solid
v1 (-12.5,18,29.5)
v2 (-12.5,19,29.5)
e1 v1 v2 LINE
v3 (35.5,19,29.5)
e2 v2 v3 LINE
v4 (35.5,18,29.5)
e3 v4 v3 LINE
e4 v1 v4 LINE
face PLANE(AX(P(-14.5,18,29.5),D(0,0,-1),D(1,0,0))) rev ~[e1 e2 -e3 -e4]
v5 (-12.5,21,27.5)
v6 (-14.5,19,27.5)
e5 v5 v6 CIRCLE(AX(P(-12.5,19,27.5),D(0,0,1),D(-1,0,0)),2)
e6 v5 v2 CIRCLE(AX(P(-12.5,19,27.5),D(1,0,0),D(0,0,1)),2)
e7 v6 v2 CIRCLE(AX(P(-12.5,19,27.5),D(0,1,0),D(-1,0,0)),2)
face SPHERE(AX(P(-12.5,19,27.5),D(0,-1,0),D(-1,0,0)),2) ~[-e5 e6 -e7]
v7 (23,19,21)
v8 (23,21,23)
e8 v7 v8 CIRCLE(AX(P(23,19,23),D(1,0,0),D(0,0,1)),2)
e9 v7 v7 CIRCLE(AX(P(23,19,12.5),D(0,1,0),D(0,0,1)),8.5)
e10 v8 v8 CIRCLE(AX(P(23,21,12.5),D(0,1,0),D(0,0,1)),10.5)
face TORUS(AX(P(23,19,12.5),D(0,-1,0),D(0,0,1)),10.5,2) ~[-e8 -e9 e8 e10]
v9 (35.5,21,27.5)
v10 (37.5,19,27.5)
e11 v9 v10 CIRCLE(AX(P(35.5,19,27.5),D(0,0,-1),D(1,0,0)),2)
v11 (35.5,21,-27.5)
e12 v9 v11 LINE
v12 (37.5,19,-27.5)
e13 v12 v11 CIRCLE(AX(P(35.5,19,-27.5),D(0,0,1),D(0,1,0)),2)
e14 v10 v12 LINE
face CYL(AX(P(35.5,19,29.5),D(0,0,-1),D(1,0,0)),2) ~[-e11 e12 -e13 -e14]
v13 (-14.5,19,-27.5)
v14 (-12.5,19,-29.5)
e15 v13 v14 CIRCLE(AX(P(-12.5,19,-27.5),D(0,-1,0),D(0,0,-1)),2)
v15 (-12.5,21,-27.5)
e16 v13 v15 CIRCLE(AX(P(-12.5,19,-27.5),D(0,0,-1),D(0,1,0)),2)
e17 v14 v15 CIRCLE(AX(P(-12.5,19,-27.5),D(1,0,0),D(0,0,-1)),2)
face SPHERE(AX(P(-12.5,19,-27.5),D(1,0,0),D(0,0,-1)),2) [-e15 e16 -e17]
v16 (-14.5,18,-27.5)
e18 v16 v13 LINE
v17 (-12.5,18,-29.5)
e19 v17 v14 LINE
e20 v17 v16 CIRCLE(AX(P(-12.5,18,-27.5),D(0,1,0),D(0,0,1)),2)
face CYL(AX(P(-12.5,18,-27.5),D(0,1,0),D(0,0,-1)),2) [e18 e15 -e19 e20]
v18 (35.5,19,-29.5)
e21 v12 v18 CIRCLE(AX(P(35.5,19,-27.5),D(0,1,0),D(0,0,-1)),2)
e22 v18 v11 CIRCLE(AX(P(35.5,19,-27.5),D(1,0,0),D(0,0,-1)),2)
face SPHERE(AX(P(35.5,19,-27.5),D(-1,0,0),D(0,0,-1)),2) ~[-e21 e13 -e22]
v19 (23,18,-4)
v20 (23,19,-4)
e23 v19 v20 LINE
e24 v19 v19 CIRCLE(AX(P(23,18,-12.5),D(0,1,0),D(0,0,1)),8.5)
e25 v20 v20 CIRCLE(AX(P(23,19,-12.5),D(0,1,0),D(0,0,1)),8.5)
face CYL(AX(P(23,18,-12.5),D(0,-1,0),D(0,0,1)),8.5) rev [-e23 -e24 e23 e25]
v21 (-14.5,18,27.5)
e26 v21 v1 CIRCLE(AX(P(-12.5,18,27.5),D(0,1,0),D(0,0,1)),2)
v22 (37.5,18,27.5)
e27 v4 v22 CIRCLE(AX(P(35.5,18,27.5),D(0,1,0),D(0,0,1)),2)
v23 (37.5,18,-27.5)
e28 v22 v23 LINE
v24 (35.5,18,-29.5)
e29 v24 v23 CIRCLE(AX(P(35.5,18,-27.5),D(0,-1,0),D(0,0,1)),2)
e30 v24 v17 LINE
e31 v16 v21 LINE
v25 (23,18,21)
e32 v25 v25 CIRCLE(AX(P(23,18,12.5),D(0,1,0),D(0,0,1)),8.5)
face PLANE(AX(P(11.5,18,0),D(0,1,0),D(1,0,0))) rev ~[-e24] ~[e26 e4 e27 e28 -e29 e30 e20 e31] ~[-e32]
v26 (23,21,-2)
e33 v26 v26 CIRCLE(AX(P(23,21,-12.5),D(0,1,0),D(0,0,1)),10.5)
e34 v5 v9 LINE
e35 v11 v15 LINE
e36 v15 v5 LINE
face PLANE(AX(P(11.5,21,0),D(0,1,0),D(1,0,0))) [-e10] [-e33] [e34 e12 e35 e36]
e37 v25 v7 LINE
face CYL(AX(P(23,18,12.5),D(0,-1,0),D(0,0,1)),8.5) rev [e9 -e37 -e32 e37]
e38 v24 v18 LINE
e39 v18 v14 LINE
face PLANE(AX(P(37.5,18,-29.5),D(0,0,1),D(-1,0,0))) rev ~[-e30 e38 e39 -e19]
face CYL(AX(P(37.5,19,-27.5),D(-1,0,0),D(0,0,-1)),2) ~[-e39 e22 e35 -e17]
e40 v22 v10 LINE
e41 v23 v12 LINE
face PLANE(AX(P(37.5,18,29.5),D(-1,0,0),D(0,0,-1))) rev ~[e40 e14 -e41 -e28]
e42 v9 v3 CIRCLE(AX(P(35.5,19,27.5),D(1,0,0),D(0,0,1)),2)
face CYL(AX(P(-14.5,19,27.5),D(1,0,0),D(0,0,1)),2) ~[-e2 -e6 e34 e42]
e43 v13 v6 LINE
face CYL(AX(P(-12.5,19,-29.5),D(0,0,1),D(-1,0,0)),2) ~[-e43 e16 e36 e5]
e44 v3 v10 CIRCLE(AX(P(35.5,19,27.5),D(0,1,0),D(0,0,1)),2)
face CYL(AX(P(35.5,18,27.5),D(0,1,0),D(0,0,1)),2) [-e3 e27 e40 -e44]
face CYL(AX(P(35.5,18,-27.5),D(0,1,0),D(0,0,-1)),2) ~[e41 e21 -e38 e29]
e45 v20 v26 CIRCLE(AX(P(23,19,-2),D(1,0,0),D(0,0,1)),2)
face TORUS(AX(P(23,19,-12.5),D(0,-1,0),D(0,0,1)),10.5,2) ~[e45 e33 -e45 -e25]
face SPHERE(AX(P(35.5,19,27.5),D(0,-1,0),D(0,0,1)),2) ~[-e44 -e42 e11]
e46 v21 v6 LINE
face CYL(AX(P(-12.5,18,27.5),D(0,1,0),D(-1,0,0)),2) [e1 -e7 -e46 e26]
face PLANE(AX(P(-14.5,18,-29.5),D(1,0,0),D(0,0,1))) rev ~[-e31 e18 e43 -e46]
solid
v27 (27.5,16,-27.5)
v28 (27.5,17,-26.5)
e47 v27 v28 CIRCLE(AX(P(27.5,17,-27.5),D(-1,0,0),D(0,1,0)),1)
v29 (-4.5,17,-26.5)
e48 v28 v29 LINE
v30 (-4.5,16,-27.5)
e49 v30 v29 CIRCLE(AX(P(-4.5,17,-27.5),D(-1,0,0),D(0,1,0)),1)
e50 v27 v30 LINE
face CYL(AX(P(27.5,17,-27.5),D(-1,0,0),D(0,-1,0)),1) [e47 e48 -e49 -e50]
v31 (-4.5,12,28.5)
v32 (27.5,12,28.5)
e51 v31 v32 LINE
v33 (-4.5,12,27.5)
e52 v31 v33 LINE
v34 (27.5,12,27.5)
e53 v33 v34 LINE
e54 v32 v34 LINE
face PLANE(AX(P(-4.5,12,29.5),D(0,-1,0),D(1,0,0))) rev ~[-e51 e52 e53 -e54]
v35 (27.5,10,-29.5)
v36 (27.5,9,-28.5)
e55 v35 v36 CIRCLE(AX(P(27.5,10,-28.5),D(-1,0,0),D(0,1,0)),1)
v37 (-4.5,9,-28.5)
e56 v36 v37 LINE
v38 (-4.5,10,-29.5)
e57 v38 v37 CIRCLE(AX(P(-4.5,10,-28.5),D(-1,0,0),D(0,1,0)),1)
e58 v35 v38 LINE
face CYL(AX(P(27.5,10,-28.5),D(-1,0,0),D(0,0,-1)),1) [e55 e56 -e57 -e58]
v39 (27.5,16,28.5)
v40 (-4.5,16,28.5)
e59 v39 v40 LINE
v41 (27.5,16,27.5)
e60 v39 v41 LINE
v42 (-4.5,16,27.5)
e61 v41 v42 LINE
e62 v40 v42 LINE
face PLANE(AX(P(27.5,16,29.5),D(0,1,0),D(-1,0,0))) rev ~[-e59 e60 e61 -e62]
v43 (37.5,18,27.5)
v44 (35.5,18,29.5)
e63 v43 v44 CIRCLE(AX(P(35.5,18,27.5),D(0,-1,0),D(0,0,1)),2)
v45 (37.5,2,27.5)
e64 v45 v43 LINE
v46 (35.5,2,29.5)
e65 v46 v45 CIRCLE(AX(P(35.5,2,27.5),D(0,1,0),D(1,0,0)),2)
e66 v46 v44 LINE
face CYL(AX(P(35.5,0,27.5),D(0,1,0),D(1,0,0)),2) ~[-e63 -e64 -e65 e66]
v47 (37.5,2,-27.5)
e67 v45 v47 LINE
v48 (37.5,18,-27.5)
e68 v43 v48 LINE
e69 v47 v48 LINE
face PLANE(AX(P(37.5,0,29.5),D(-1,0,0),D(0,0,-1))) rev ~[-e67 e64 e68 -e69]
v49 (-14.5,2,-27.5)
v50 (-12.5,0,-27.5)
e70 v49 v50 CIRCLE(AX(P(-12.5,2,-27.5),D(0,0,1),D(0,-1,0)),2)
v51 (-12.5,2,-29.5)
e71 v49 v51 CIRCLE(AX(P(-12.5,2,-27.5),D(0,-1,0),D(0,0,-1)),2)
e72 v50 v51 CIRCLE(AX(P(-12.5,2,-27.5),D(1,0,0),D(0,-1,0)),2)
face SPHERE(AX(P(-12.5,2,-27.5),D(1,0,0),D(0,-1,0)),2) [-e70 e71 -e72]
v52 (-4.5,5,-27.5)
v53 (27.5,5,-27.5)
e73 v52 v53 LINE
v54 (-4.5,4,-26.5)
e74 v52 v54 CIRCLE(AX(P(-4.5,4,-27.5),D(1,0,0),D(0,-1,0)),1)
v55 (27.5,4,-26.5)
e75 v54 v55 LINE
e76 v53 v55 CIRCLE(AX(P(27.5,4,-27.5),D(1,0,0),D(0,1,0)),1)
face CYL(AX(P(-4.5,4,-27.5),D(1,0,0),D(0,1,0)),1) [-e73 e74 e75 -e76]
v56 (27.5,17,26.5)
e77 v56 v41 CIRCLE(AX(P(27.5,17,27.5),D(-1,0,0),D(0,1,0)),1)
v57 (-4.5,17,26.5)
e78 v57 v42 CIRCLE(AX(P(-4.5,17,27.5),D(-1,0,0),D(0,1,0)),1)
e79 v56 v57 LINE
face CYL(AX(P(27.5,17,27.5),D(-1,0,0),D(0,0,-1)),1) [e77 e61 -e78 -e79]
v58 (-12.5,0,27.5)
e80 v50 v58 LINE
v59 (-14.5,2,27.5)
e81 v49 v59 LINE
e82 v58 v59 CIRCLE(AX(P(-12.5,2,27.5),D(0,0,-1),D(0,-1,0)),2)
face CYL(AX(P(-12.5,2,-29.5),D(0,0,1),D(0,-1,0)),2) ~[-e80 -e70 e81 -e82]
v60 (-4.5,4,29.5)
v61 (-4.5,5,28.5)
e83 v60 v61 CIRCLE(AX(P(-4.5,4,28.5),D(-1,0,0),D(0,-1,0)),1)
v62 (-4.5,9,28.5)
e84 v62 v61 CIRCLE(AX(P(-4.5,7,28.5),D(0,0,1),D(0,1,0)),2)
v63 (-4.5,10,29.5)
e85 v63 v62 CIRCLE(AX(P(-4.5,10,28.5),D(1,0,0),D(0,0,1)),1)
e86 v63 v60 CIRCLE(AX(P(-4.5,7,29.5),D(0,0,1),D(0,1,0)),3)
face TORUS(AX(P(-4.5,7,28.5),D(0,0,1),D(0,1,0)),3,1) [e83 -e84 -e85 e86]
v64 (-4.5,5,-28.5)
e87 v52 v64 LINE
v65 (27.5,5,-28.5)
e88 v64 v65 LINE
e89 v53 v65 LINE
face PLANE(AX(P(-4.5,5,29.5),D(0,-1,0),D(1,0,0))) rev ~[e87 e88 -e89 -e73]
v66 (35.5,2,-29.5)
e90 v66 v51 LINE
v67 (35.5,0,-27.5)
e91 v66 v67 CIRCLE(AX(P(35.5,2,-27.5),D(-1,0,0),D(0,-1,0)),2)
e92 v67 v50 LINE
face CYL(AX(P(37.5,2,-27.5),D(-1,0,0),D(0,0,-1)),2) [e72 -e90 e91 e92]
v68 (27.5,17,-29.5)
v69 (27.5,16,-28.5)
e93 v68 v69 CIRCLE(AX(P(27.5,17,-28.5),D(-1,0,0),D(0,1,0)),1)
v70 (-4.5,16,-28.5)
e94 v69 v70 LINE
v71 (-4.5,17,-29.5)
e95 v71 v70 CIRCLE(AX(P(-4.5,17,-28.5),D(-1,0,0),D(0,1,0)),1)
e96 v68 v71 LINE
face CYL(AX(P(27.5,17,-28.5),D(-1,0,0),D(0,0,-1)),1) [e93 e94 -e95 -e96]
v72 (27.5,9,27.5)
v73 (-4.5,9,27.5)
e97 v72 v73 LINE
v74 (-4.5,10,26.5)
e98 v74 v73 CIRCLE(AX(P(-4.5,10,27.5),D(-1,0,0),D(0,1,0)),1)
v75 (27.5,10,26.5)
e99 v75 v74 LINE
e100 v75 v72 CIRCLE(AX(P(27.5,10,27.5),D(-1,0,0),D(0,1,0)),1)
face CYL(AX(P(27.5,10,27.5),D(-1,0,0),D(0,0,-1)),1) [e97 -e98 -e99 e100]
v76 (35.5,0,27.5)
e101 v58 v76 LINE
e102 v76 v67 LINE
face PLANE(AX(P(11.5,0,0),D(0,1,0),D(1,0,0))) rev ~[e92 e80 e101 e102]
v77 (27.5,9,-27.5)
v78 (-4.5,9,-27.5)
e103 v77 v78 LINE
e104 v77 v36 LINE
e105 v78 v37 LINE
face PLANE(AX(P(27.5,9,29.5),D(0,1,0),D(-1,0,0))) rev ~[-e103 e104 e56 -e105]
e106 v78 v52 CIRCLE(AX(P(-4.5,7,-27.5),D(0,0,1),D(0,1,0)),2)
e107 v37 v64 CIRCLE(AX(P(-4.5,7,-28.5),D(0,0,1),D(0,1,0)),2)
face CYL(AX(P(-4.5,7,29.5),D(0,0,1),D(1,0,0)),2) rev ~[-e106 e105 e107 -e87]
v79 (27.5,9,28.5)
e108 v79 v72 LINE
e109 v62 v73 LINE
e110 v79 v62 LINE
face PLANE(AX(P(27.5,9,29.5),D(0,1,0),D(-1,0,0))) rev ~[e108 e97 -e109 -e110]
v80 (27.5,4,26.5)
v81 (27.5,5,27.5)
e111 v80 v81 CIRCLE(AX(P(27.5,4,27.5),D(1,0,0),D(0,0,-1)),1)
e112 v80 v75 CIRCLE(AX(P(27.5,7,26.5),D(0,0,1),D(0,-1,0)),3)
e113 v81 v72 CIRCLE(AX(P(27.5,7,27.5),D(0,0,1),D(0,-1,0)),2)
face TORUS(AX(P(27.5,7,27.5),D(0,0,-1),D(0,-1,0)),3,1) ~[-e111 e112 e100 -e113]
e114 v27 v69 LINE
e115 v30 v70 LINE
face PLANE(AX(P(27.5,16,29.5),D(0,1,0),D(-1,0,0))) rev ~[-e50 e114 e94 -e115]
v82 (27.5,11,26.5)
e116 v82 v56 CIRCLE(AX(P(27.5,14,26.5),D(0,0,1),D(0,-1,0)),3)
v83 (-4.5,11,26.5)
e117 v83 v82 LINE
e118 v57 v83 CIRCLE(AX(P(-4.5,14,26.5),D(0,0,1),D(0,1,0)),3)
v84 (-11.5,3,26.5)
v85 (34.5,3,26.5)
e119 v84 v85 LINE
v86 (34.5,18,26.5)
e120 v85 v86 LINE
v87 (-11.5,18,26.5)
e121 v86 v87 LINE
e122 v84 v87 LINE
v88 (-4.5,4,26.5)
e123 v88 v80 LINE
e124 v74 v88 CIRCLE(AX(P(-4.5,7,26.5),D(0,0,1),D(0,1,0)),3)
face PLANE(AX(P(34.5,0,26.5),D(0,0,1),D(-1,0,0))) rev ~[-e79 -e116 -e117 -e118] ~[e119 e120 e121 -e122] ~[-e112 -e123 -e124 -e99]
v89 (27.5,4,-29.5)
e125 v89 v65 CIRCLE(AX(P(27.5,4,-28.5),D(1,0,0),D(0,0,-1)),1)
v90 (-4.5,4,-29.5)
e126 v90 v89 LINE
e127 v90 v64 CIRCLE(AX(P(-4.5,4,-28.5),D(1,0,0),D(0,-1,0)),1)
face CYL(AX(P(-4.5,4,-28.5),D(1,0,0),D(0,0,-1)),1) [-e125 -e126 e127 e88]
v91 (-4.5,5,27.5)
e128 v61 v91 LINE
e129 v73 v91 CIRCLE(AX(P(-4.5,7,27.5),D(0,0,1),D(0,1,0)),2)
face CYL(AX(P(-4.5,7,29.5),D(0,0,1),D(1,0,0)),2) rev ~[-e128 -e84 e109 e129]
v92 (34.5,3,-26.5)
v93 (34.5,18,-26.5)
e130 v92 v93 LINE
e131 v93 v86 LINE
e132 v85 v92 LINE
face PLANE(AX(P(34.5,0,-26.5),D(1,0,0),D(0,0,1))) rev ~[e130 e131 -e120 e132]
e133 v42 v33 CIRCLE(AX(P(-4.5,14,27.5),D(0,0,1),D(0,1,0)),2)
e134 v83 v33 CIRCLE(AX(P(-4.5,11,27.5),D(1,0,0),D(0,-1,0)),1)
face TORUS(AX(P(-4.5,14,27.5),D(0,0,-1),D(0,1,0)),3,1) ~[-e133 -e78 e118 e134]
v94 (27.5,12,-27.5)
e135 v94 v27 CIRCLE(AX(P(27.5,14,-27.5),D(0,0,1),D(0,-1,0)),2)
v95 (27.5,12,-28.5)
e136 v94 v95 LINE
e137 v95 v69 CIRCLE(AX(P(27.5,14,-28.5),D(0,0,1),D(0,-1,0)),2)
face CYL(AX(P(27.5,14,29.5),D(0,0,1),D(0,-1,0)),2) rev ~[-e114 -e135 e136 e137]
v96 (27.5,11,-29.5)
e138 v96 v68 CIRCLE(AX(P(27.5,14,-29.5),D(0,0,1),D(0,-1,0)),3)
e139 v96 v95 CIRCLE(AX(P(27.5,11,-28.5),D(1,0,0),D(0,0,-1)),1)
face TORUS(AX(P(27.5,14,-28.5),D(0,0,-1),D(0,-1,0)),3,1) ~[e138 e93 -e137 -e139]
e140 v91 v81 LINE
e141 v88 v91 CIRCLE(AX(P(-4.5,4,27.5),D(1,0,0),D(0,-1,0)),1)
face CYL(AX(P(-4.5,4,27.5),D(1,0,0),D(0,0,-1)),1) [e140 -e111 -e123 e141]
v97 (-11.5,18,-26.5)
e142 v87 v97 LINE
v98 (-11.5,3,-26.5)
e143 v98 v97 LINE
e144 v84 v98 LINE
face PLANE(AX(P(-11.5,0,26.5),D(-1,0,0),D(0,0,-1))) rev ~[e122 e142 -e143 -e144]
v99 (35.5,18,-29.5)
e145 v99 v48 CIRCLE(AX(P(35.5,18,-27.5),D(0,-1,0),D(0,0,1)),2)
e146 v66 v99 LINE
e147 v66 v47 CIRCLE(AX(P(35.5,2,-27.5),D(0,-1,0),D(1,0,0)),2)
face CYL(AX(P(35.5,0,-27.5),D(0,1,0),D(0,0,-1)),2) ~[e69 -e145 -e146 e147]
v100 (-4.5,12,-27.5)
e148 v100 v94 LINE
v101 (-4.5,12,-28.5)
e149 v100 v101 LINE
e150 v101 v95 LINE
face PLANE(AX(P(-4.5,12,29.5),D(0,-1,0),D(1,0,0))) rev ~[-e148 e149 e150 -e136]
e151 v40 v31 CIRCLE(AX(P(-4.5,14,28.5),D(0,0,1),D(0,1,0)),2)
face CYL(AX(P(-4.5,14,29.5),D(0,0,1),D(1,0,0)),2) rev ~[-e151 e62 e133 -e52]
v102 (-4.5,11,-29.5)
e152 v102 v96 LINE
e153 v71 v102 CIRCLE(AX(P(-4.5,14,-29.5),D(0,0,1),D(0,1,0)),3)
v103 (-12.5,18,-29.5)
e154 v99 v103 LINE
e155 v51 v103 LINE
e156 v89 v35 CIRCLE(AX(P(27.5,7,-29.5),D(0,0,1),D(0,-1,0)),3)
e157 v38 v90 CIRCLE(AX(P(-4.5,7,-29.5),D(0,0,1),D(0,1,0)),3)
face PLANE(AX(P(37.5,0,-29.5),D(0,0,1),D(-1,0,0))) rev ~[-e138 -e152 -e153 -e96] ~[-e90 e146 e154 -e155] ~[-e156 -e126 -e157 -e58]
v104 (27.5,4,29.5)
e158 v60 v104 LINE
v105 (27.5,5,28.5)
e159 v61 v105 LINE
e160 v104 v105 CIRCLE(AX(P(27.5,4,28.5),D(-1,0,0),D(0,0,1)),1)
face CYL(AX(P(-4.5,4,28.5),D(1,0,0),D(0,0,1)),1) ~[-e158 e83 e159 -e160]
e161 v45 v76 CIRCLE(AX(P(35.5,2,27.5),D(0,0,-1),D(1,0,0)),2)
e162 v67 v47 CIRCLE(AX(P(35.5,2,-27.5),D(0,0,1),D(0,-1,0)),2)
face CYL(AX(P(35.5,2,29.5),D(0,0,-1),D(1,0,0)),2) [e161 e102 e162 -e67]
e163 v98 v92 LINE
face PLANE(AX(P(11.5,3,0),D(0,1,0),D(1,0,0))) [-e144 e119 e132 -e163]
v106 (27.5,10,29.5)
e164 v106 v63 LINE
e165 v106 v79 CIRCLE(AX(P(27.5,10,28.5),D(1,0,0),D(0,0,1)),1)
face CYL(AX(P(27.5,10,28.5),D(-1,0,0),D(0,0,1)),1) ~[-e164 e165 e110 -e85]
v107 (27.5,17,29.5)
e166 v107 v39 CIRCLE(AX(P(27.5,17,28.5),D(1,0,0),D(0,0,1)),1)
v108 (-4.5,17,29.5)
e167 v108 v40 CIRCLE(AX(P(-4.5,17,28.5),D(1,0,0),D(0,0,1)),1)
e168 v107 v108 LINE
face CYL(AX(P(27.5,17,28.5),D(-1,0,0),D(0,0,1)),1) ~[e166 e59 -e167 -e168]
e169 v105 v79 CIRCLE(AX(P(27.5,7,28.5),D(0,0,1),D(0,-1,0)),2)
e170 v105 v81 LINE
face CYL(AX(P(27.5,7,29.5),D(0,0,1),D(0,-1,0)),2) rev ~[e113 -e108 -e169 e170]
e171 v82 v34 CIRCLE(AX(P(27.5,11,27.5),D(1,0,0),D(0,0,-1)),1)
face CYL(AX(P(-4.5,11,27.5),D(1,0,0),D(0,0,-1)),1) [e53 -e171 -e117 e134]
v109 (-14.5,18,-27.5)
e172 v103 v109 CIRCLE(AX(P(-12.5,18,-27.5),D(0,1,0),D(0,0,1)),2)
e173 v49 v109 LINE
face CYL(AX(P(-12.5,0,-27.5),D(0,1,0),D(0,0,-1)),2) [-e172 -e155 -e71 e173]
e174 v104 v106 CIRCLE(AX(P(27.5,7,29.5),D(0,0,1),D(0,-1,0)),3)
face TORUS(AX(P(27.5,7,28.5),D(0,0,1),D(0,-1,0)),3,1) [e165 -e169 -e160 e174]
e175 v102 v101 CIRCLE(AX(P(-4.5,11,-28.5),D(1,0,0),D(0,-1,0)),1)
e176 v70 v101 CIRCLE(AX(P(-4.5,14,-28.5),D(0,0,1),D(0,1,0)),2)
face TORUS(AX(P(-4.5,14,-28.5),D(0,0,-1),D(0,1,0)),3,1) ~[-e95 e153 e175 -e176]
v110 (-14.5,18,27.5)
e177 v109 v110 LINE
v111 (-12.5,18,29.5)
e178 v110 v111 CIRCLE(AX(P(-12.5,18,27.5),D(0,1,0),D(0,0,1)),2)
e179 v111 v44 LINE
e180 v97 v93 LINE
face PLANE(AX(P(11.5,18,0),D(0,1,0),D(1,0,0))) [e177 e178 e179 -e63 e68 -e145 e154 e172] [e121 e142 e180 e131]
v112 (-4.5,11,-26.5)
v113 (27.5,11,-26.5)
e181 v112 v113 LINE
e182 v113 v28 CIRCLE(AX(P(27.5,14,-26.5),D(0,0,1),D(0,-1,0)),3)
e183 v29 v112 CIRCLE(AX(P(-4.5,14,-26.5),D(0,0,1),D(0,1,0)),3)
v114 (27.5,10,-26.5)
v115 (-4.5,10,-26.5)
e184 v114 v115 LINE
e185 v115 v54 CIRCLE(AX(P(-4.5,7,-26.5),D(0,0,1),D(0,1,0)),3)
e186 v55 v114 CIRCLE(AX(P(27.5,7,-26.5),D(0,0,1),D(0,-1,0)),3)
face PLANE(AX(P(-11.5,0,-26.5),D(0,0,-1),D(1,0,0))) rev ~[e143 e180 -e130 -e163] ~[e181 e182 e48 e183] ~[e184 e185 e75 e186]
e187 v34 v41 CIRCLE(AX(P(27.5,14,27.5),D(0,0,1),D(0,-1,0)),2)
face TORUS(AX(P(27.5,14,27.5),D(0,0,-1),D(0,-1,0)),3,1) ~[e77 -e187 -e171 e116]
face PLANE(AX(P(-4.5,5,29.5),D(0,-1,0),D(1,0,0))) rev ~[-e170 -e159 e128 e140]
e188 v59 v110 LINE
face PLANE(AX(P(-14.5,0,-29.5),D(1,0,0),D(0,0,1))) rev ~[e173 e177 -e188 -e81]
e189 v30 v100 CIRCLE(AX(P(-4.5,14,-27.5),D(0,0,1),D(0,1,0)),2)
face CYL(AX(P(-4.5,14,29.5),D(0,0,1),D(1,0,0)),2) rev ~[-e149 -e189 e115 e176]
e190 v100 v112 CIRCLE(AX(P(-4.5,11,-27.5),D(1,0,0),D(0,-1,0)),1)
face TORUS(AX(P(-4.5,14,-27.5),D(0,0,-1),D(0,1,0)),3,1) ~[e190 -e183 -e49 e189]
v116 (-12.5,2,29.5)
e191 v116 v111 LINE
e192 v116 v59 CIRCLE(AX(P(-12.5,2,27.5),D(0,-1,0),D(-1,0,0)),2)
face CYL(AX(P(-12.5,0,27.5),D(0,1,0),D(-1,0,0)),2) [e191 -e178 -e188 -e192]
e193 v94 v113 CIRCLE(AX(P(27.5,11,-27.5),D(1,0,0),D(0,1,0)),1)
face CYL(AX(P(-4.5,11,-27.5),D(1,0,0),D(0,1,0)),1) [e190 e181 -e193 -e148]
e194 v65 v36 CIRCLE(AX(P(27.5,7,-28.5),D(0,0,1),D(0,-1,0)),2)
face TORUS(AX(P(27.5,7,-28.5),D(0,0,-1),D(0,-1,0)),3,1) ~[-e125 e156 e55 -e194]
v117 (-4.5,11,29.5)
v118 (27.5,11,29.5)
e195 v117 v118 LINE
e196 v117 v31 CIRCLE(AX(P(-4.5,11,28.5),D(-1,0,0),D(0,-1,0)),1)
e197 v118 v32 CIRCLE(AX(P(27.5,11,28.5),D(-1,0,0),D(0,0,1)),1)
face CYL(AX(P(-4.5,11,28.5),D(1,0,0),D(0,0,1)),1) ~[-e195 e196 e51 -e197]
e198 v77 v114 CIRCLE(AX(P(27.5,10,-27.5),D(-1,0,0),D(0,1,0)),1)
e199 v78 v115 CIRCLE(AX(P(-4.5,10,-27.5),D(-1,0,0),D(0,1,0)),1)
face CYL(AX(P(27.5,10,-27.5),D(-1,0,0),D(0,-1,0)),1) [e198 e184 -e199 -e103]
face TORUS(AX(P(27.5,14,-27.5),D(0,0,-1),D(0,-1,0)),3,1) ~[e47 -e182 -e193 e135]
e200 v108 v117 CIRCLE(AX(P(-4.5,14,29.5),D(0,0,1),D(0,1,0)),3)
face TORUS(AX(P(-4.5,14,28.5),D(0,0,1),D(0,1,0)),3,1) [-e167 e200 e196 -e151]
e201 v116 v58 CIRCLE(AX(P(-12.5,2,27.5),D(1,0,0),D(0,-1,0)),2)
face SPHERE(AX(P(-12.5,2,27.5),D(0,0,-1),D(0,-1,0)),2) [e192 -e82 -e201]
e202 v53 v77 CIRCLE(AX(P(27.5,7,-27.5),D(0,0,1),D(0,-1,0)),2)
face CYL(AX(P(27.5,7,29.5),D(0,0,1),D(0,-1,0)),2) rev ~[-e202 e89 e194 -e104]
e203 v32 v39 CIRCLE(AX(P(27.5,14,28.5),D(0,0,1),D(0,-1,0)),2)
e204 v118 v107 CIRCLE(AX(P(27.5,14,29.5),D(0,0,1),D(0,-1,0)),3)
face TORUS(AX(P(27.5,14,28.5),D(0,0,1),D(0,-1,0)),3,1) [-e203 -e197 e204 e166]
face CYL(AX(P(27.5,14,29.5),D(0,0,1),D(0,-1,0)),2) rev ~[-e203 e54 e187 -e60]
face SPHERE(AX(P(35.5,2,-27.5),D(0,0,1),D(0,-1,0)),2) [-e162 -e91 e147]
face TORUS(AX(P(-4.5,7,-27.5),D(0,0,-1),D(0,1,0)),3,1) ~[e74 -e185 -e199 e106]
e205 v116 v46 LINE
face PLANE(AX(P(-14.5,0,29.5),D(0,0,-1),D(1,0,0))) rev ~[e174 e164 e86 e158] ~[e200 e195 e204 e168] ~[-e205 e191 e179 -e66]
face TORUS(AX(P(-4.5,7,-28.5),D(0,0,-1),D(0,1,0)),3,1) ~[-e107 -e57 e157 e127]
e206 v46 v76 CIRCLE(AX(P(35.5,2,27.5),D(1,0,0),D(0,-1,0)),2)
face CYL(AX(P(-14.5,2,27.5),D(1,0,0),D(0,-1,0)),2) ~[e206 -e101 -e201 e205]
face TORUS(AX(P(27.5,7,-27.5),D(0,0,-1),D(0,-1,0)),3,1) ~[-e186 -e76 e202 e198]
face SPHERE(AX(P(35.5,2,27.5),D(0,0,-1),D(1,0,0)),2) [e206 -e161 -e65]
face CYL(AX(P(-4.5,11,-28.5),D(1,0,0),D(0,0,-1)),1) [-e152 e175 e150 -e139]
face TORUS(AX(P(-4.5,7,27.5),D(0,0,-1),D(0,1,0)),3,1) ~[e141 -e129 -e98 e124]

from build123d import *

# Parameters (mm, degrees)
SKETCH1_W           = 46
SKETCH1_H           = 53
BOSS_EXTRUDE1_DEPTH = 3
BOSS_EXTRUDE2_DEPTH = 18
BOSS_EXTRUDE3_START = 18
SKETCH1_6_W         = 23
SKETCH1_6_H         = 53
SKETCH1_6_R         = 8.5
BOSS_EXTRUDE3_DEPTH = 3
SKETCH4_R           = 2
CUT_EXTRUDE1_DEPTH  = 73.994862833
FILLET1_R           = 2
FILLET2_R           = 2
FILLET3_R           = 1


with BuildPart() as part:
    # Sketch1 → Boss-Extrude1 (new body)
    with BuildSketch(Plane(origin=(0, 0, 0), x_dir=(1, 0, 0), z_dir=(0, 1, 0))):
        with Locations((11.5, 0)):
            Rectangle(SKETCH1_W, SKETCH1_H)
    extrude(amount=BOSS_EXTRUDE1_DEPTH)

    # Sketch1_3 → Boss-Extrude2 (add)
    with BuildSketch(Plane(origin=(0, 0, 0), x_dir=(1, 0, 0), z_dir=(0, 1, 0))):
        Polygon((37.5, 29.5), (-11.5, 29.5), (-14.5, 29.5), (-14.5, -29.5), (37.5, -29.5), align=None)
        Polygon((11.5, -26.5), (-11.5, -26.5), (-11.5, 26.5), (11.5, 26.5), (34.5, 26.5), (34.5, -26.5), align=None, mode=Mode.SUBTRACT)
    extrude(amount=BOSS_EXTRUDE2_DEPTH)

    # Sketch4 → Cut-Extrude1 (cut, through all)
    with BuildSketch(Plane.XY.offset(29.5)):
        with Locations((-4.5, 14)):
            Circle(SKETCH4_R)
        with BuildLine():
            Line((27.5, 16), (-4.5, 16))
            ThreePointArc((-4.5, 16), (-3.085786438, 15.414213562), (-2.5, 14))
            ThreePointArc((-2.5, 14), (-3.085786438, 12.585786438), (-4.5, 12))
            Line((-4.5, 12), (27.5, 12))
            ThreePointArc((27.5, 12), (25.5, 14), (27.5, 16))
        make_face()
        with Locations((27.5, 14)):
            Circle(SKETCH4_R)
        with Locations((-4.5, 7)):
            Circle(SKETCH4_R)
        with BuildLine():
            Line((27.5, 9), (-4.5, 9))
            ThreePointArc((-4.5, 9), (-3.085786438, 8.414213562), (-2.5, 7))
            ThreePointArc((-2.5, 7), (-3.085786438, 5.585786438), (-4.5, 5))
            Line((-4.5, 5), (27.5, 5))
            ThreePointArc((27.5, 5), (25.5, 7), (27.5, 9))
        make_face()
        with Locations((27.5, 7)):
            Circle(SKETCH4_R)
    extrude(amount=-CUT_EXTRUDE1_DEPTH, mode=Mode.SUBTRACT)

    # Fillet1
    fillet1_edges = [part.edges().sort_by_distance(p)[0] for p in [
        (37.5, 0, 0),
        (37.5, 9, 29.5),
        (11.5, 0, -29.5),
        (37.5, 9, -29.5),
        (-14.5, 0, 0),
        (-14.5, 9, -29.5),
        (11.5, 0, 29.5),
        (-14.5, 9, 29.5),
    ]]
    fillet(fillet1_edges, radius=FILLET1_R)

    # Fillet3
    fillet3_edges = [part.edges().sort_by_distance(p)[0] for p in [
        (-6.5, 7, -26.5),
        (-6.5, 7, -29.5),
        (-6.5, 7, 26.5),
        (11.5, 9, -26.5),
        (29.5, 7, -26.5),
        (29.5, 7, -29.5),
        (29.5, 7, 26.5),
        (11.5, 5, -26.5),
        (11.5, 5, -29.5),
        (11.5, 5, 26.5),
        (11.5, 9, 26.5),
        (11.5, 9, 29.5),
        (11.5, 9, -29.5),
        (-6.5, 7, 29.5),
        (11.5, 5, 29.5),
        (29.5, 7, 29.5),
        (-6.5, 14, -26.5),
        (-6.5, 14, -29.5),
        (-6.5, 14, 26.5),
        (11.5, 16, -26.5),
        (29.5, 14, -26.5),
        (29.5, 14, -29.5),
        (29.5, 14, 26.5),
        (11.5, 12, -26.5),
        (11.5, 12, -29.5),
        (11.5, 12, 26.5),
        (11.5, 16, 26.5),
        (11.5, 16, 29.5),
        (11.5, 16, -29.5),
        (-6.5, 14, 29.5),
        (11.5, 12, 29.5),
        (29.5, 14, 29.5),
    ]]
    fillet(fillet3_edges, radius=FILLET3_R)


with BuildPart() as body_2:
    # Sketch1_6 → Boss-Extrude3 (new body)
    with BuildSketch(Plane(origin=(0, 0, 0), x_dir=(1, 0, 0), z_dir=(0, 1, 0)).offset(BOSS_EXTRUDE3_START)):
        Polygon((37.5, 29.5), (-11.5, 29.5), (-14.5, 29.5), (-14.5, -29.5), (37.5, -29.5), align=None)
        Polygon((11.5, -26.5), (-11.5, -26.5), (-11.5, 26.5), (11.5, 26.5), (34.5, 26.5), (34.5, -26.5), align=None, mode=Mode.SUBTRACT)
        with Locations((23, 0)):
            Rectangle(SKETCH1_6_W, SKETCH1_6_H)
        with Locations(Location((23, 12.5, 0), (0, 0, 270))):
            Circle(SKETCH1_6_R, mode=Mode.SUBTRACT)
        with Locations(Location((23, -12.5, 0), (0, 0, 270))):
            Circle(SKETCH1_6_R, mode=Mode.SUBTRACT)
        Rectangle(SKETCH1_6_W, SKETCH1_6_H)
    extrude(amount=BOSS_EXTRUDE3_DEPTH)

    # Fillet2
    fillet2_edges = [body_2.edges().sort_by_distance(p)[0] for p in [
        (11.5, 21, -29.5),
        (37.5, 19.5, 29.5),
        (-14.5, 19.5, 29.5),
        (-14.5, 19.5, -29.5),
        (37.5, 19.5, -29.5),
        (-14.5, 21, 0),
        (11.5, 21, 29.5),
        (23, 21, -21),
        (23, 21, 4),
        (37.5, 21, 0),
    ]]
    fillet(fillet2_edges, radius=FILLET2_R)


solid = Compound([part.part, body_2.part])
